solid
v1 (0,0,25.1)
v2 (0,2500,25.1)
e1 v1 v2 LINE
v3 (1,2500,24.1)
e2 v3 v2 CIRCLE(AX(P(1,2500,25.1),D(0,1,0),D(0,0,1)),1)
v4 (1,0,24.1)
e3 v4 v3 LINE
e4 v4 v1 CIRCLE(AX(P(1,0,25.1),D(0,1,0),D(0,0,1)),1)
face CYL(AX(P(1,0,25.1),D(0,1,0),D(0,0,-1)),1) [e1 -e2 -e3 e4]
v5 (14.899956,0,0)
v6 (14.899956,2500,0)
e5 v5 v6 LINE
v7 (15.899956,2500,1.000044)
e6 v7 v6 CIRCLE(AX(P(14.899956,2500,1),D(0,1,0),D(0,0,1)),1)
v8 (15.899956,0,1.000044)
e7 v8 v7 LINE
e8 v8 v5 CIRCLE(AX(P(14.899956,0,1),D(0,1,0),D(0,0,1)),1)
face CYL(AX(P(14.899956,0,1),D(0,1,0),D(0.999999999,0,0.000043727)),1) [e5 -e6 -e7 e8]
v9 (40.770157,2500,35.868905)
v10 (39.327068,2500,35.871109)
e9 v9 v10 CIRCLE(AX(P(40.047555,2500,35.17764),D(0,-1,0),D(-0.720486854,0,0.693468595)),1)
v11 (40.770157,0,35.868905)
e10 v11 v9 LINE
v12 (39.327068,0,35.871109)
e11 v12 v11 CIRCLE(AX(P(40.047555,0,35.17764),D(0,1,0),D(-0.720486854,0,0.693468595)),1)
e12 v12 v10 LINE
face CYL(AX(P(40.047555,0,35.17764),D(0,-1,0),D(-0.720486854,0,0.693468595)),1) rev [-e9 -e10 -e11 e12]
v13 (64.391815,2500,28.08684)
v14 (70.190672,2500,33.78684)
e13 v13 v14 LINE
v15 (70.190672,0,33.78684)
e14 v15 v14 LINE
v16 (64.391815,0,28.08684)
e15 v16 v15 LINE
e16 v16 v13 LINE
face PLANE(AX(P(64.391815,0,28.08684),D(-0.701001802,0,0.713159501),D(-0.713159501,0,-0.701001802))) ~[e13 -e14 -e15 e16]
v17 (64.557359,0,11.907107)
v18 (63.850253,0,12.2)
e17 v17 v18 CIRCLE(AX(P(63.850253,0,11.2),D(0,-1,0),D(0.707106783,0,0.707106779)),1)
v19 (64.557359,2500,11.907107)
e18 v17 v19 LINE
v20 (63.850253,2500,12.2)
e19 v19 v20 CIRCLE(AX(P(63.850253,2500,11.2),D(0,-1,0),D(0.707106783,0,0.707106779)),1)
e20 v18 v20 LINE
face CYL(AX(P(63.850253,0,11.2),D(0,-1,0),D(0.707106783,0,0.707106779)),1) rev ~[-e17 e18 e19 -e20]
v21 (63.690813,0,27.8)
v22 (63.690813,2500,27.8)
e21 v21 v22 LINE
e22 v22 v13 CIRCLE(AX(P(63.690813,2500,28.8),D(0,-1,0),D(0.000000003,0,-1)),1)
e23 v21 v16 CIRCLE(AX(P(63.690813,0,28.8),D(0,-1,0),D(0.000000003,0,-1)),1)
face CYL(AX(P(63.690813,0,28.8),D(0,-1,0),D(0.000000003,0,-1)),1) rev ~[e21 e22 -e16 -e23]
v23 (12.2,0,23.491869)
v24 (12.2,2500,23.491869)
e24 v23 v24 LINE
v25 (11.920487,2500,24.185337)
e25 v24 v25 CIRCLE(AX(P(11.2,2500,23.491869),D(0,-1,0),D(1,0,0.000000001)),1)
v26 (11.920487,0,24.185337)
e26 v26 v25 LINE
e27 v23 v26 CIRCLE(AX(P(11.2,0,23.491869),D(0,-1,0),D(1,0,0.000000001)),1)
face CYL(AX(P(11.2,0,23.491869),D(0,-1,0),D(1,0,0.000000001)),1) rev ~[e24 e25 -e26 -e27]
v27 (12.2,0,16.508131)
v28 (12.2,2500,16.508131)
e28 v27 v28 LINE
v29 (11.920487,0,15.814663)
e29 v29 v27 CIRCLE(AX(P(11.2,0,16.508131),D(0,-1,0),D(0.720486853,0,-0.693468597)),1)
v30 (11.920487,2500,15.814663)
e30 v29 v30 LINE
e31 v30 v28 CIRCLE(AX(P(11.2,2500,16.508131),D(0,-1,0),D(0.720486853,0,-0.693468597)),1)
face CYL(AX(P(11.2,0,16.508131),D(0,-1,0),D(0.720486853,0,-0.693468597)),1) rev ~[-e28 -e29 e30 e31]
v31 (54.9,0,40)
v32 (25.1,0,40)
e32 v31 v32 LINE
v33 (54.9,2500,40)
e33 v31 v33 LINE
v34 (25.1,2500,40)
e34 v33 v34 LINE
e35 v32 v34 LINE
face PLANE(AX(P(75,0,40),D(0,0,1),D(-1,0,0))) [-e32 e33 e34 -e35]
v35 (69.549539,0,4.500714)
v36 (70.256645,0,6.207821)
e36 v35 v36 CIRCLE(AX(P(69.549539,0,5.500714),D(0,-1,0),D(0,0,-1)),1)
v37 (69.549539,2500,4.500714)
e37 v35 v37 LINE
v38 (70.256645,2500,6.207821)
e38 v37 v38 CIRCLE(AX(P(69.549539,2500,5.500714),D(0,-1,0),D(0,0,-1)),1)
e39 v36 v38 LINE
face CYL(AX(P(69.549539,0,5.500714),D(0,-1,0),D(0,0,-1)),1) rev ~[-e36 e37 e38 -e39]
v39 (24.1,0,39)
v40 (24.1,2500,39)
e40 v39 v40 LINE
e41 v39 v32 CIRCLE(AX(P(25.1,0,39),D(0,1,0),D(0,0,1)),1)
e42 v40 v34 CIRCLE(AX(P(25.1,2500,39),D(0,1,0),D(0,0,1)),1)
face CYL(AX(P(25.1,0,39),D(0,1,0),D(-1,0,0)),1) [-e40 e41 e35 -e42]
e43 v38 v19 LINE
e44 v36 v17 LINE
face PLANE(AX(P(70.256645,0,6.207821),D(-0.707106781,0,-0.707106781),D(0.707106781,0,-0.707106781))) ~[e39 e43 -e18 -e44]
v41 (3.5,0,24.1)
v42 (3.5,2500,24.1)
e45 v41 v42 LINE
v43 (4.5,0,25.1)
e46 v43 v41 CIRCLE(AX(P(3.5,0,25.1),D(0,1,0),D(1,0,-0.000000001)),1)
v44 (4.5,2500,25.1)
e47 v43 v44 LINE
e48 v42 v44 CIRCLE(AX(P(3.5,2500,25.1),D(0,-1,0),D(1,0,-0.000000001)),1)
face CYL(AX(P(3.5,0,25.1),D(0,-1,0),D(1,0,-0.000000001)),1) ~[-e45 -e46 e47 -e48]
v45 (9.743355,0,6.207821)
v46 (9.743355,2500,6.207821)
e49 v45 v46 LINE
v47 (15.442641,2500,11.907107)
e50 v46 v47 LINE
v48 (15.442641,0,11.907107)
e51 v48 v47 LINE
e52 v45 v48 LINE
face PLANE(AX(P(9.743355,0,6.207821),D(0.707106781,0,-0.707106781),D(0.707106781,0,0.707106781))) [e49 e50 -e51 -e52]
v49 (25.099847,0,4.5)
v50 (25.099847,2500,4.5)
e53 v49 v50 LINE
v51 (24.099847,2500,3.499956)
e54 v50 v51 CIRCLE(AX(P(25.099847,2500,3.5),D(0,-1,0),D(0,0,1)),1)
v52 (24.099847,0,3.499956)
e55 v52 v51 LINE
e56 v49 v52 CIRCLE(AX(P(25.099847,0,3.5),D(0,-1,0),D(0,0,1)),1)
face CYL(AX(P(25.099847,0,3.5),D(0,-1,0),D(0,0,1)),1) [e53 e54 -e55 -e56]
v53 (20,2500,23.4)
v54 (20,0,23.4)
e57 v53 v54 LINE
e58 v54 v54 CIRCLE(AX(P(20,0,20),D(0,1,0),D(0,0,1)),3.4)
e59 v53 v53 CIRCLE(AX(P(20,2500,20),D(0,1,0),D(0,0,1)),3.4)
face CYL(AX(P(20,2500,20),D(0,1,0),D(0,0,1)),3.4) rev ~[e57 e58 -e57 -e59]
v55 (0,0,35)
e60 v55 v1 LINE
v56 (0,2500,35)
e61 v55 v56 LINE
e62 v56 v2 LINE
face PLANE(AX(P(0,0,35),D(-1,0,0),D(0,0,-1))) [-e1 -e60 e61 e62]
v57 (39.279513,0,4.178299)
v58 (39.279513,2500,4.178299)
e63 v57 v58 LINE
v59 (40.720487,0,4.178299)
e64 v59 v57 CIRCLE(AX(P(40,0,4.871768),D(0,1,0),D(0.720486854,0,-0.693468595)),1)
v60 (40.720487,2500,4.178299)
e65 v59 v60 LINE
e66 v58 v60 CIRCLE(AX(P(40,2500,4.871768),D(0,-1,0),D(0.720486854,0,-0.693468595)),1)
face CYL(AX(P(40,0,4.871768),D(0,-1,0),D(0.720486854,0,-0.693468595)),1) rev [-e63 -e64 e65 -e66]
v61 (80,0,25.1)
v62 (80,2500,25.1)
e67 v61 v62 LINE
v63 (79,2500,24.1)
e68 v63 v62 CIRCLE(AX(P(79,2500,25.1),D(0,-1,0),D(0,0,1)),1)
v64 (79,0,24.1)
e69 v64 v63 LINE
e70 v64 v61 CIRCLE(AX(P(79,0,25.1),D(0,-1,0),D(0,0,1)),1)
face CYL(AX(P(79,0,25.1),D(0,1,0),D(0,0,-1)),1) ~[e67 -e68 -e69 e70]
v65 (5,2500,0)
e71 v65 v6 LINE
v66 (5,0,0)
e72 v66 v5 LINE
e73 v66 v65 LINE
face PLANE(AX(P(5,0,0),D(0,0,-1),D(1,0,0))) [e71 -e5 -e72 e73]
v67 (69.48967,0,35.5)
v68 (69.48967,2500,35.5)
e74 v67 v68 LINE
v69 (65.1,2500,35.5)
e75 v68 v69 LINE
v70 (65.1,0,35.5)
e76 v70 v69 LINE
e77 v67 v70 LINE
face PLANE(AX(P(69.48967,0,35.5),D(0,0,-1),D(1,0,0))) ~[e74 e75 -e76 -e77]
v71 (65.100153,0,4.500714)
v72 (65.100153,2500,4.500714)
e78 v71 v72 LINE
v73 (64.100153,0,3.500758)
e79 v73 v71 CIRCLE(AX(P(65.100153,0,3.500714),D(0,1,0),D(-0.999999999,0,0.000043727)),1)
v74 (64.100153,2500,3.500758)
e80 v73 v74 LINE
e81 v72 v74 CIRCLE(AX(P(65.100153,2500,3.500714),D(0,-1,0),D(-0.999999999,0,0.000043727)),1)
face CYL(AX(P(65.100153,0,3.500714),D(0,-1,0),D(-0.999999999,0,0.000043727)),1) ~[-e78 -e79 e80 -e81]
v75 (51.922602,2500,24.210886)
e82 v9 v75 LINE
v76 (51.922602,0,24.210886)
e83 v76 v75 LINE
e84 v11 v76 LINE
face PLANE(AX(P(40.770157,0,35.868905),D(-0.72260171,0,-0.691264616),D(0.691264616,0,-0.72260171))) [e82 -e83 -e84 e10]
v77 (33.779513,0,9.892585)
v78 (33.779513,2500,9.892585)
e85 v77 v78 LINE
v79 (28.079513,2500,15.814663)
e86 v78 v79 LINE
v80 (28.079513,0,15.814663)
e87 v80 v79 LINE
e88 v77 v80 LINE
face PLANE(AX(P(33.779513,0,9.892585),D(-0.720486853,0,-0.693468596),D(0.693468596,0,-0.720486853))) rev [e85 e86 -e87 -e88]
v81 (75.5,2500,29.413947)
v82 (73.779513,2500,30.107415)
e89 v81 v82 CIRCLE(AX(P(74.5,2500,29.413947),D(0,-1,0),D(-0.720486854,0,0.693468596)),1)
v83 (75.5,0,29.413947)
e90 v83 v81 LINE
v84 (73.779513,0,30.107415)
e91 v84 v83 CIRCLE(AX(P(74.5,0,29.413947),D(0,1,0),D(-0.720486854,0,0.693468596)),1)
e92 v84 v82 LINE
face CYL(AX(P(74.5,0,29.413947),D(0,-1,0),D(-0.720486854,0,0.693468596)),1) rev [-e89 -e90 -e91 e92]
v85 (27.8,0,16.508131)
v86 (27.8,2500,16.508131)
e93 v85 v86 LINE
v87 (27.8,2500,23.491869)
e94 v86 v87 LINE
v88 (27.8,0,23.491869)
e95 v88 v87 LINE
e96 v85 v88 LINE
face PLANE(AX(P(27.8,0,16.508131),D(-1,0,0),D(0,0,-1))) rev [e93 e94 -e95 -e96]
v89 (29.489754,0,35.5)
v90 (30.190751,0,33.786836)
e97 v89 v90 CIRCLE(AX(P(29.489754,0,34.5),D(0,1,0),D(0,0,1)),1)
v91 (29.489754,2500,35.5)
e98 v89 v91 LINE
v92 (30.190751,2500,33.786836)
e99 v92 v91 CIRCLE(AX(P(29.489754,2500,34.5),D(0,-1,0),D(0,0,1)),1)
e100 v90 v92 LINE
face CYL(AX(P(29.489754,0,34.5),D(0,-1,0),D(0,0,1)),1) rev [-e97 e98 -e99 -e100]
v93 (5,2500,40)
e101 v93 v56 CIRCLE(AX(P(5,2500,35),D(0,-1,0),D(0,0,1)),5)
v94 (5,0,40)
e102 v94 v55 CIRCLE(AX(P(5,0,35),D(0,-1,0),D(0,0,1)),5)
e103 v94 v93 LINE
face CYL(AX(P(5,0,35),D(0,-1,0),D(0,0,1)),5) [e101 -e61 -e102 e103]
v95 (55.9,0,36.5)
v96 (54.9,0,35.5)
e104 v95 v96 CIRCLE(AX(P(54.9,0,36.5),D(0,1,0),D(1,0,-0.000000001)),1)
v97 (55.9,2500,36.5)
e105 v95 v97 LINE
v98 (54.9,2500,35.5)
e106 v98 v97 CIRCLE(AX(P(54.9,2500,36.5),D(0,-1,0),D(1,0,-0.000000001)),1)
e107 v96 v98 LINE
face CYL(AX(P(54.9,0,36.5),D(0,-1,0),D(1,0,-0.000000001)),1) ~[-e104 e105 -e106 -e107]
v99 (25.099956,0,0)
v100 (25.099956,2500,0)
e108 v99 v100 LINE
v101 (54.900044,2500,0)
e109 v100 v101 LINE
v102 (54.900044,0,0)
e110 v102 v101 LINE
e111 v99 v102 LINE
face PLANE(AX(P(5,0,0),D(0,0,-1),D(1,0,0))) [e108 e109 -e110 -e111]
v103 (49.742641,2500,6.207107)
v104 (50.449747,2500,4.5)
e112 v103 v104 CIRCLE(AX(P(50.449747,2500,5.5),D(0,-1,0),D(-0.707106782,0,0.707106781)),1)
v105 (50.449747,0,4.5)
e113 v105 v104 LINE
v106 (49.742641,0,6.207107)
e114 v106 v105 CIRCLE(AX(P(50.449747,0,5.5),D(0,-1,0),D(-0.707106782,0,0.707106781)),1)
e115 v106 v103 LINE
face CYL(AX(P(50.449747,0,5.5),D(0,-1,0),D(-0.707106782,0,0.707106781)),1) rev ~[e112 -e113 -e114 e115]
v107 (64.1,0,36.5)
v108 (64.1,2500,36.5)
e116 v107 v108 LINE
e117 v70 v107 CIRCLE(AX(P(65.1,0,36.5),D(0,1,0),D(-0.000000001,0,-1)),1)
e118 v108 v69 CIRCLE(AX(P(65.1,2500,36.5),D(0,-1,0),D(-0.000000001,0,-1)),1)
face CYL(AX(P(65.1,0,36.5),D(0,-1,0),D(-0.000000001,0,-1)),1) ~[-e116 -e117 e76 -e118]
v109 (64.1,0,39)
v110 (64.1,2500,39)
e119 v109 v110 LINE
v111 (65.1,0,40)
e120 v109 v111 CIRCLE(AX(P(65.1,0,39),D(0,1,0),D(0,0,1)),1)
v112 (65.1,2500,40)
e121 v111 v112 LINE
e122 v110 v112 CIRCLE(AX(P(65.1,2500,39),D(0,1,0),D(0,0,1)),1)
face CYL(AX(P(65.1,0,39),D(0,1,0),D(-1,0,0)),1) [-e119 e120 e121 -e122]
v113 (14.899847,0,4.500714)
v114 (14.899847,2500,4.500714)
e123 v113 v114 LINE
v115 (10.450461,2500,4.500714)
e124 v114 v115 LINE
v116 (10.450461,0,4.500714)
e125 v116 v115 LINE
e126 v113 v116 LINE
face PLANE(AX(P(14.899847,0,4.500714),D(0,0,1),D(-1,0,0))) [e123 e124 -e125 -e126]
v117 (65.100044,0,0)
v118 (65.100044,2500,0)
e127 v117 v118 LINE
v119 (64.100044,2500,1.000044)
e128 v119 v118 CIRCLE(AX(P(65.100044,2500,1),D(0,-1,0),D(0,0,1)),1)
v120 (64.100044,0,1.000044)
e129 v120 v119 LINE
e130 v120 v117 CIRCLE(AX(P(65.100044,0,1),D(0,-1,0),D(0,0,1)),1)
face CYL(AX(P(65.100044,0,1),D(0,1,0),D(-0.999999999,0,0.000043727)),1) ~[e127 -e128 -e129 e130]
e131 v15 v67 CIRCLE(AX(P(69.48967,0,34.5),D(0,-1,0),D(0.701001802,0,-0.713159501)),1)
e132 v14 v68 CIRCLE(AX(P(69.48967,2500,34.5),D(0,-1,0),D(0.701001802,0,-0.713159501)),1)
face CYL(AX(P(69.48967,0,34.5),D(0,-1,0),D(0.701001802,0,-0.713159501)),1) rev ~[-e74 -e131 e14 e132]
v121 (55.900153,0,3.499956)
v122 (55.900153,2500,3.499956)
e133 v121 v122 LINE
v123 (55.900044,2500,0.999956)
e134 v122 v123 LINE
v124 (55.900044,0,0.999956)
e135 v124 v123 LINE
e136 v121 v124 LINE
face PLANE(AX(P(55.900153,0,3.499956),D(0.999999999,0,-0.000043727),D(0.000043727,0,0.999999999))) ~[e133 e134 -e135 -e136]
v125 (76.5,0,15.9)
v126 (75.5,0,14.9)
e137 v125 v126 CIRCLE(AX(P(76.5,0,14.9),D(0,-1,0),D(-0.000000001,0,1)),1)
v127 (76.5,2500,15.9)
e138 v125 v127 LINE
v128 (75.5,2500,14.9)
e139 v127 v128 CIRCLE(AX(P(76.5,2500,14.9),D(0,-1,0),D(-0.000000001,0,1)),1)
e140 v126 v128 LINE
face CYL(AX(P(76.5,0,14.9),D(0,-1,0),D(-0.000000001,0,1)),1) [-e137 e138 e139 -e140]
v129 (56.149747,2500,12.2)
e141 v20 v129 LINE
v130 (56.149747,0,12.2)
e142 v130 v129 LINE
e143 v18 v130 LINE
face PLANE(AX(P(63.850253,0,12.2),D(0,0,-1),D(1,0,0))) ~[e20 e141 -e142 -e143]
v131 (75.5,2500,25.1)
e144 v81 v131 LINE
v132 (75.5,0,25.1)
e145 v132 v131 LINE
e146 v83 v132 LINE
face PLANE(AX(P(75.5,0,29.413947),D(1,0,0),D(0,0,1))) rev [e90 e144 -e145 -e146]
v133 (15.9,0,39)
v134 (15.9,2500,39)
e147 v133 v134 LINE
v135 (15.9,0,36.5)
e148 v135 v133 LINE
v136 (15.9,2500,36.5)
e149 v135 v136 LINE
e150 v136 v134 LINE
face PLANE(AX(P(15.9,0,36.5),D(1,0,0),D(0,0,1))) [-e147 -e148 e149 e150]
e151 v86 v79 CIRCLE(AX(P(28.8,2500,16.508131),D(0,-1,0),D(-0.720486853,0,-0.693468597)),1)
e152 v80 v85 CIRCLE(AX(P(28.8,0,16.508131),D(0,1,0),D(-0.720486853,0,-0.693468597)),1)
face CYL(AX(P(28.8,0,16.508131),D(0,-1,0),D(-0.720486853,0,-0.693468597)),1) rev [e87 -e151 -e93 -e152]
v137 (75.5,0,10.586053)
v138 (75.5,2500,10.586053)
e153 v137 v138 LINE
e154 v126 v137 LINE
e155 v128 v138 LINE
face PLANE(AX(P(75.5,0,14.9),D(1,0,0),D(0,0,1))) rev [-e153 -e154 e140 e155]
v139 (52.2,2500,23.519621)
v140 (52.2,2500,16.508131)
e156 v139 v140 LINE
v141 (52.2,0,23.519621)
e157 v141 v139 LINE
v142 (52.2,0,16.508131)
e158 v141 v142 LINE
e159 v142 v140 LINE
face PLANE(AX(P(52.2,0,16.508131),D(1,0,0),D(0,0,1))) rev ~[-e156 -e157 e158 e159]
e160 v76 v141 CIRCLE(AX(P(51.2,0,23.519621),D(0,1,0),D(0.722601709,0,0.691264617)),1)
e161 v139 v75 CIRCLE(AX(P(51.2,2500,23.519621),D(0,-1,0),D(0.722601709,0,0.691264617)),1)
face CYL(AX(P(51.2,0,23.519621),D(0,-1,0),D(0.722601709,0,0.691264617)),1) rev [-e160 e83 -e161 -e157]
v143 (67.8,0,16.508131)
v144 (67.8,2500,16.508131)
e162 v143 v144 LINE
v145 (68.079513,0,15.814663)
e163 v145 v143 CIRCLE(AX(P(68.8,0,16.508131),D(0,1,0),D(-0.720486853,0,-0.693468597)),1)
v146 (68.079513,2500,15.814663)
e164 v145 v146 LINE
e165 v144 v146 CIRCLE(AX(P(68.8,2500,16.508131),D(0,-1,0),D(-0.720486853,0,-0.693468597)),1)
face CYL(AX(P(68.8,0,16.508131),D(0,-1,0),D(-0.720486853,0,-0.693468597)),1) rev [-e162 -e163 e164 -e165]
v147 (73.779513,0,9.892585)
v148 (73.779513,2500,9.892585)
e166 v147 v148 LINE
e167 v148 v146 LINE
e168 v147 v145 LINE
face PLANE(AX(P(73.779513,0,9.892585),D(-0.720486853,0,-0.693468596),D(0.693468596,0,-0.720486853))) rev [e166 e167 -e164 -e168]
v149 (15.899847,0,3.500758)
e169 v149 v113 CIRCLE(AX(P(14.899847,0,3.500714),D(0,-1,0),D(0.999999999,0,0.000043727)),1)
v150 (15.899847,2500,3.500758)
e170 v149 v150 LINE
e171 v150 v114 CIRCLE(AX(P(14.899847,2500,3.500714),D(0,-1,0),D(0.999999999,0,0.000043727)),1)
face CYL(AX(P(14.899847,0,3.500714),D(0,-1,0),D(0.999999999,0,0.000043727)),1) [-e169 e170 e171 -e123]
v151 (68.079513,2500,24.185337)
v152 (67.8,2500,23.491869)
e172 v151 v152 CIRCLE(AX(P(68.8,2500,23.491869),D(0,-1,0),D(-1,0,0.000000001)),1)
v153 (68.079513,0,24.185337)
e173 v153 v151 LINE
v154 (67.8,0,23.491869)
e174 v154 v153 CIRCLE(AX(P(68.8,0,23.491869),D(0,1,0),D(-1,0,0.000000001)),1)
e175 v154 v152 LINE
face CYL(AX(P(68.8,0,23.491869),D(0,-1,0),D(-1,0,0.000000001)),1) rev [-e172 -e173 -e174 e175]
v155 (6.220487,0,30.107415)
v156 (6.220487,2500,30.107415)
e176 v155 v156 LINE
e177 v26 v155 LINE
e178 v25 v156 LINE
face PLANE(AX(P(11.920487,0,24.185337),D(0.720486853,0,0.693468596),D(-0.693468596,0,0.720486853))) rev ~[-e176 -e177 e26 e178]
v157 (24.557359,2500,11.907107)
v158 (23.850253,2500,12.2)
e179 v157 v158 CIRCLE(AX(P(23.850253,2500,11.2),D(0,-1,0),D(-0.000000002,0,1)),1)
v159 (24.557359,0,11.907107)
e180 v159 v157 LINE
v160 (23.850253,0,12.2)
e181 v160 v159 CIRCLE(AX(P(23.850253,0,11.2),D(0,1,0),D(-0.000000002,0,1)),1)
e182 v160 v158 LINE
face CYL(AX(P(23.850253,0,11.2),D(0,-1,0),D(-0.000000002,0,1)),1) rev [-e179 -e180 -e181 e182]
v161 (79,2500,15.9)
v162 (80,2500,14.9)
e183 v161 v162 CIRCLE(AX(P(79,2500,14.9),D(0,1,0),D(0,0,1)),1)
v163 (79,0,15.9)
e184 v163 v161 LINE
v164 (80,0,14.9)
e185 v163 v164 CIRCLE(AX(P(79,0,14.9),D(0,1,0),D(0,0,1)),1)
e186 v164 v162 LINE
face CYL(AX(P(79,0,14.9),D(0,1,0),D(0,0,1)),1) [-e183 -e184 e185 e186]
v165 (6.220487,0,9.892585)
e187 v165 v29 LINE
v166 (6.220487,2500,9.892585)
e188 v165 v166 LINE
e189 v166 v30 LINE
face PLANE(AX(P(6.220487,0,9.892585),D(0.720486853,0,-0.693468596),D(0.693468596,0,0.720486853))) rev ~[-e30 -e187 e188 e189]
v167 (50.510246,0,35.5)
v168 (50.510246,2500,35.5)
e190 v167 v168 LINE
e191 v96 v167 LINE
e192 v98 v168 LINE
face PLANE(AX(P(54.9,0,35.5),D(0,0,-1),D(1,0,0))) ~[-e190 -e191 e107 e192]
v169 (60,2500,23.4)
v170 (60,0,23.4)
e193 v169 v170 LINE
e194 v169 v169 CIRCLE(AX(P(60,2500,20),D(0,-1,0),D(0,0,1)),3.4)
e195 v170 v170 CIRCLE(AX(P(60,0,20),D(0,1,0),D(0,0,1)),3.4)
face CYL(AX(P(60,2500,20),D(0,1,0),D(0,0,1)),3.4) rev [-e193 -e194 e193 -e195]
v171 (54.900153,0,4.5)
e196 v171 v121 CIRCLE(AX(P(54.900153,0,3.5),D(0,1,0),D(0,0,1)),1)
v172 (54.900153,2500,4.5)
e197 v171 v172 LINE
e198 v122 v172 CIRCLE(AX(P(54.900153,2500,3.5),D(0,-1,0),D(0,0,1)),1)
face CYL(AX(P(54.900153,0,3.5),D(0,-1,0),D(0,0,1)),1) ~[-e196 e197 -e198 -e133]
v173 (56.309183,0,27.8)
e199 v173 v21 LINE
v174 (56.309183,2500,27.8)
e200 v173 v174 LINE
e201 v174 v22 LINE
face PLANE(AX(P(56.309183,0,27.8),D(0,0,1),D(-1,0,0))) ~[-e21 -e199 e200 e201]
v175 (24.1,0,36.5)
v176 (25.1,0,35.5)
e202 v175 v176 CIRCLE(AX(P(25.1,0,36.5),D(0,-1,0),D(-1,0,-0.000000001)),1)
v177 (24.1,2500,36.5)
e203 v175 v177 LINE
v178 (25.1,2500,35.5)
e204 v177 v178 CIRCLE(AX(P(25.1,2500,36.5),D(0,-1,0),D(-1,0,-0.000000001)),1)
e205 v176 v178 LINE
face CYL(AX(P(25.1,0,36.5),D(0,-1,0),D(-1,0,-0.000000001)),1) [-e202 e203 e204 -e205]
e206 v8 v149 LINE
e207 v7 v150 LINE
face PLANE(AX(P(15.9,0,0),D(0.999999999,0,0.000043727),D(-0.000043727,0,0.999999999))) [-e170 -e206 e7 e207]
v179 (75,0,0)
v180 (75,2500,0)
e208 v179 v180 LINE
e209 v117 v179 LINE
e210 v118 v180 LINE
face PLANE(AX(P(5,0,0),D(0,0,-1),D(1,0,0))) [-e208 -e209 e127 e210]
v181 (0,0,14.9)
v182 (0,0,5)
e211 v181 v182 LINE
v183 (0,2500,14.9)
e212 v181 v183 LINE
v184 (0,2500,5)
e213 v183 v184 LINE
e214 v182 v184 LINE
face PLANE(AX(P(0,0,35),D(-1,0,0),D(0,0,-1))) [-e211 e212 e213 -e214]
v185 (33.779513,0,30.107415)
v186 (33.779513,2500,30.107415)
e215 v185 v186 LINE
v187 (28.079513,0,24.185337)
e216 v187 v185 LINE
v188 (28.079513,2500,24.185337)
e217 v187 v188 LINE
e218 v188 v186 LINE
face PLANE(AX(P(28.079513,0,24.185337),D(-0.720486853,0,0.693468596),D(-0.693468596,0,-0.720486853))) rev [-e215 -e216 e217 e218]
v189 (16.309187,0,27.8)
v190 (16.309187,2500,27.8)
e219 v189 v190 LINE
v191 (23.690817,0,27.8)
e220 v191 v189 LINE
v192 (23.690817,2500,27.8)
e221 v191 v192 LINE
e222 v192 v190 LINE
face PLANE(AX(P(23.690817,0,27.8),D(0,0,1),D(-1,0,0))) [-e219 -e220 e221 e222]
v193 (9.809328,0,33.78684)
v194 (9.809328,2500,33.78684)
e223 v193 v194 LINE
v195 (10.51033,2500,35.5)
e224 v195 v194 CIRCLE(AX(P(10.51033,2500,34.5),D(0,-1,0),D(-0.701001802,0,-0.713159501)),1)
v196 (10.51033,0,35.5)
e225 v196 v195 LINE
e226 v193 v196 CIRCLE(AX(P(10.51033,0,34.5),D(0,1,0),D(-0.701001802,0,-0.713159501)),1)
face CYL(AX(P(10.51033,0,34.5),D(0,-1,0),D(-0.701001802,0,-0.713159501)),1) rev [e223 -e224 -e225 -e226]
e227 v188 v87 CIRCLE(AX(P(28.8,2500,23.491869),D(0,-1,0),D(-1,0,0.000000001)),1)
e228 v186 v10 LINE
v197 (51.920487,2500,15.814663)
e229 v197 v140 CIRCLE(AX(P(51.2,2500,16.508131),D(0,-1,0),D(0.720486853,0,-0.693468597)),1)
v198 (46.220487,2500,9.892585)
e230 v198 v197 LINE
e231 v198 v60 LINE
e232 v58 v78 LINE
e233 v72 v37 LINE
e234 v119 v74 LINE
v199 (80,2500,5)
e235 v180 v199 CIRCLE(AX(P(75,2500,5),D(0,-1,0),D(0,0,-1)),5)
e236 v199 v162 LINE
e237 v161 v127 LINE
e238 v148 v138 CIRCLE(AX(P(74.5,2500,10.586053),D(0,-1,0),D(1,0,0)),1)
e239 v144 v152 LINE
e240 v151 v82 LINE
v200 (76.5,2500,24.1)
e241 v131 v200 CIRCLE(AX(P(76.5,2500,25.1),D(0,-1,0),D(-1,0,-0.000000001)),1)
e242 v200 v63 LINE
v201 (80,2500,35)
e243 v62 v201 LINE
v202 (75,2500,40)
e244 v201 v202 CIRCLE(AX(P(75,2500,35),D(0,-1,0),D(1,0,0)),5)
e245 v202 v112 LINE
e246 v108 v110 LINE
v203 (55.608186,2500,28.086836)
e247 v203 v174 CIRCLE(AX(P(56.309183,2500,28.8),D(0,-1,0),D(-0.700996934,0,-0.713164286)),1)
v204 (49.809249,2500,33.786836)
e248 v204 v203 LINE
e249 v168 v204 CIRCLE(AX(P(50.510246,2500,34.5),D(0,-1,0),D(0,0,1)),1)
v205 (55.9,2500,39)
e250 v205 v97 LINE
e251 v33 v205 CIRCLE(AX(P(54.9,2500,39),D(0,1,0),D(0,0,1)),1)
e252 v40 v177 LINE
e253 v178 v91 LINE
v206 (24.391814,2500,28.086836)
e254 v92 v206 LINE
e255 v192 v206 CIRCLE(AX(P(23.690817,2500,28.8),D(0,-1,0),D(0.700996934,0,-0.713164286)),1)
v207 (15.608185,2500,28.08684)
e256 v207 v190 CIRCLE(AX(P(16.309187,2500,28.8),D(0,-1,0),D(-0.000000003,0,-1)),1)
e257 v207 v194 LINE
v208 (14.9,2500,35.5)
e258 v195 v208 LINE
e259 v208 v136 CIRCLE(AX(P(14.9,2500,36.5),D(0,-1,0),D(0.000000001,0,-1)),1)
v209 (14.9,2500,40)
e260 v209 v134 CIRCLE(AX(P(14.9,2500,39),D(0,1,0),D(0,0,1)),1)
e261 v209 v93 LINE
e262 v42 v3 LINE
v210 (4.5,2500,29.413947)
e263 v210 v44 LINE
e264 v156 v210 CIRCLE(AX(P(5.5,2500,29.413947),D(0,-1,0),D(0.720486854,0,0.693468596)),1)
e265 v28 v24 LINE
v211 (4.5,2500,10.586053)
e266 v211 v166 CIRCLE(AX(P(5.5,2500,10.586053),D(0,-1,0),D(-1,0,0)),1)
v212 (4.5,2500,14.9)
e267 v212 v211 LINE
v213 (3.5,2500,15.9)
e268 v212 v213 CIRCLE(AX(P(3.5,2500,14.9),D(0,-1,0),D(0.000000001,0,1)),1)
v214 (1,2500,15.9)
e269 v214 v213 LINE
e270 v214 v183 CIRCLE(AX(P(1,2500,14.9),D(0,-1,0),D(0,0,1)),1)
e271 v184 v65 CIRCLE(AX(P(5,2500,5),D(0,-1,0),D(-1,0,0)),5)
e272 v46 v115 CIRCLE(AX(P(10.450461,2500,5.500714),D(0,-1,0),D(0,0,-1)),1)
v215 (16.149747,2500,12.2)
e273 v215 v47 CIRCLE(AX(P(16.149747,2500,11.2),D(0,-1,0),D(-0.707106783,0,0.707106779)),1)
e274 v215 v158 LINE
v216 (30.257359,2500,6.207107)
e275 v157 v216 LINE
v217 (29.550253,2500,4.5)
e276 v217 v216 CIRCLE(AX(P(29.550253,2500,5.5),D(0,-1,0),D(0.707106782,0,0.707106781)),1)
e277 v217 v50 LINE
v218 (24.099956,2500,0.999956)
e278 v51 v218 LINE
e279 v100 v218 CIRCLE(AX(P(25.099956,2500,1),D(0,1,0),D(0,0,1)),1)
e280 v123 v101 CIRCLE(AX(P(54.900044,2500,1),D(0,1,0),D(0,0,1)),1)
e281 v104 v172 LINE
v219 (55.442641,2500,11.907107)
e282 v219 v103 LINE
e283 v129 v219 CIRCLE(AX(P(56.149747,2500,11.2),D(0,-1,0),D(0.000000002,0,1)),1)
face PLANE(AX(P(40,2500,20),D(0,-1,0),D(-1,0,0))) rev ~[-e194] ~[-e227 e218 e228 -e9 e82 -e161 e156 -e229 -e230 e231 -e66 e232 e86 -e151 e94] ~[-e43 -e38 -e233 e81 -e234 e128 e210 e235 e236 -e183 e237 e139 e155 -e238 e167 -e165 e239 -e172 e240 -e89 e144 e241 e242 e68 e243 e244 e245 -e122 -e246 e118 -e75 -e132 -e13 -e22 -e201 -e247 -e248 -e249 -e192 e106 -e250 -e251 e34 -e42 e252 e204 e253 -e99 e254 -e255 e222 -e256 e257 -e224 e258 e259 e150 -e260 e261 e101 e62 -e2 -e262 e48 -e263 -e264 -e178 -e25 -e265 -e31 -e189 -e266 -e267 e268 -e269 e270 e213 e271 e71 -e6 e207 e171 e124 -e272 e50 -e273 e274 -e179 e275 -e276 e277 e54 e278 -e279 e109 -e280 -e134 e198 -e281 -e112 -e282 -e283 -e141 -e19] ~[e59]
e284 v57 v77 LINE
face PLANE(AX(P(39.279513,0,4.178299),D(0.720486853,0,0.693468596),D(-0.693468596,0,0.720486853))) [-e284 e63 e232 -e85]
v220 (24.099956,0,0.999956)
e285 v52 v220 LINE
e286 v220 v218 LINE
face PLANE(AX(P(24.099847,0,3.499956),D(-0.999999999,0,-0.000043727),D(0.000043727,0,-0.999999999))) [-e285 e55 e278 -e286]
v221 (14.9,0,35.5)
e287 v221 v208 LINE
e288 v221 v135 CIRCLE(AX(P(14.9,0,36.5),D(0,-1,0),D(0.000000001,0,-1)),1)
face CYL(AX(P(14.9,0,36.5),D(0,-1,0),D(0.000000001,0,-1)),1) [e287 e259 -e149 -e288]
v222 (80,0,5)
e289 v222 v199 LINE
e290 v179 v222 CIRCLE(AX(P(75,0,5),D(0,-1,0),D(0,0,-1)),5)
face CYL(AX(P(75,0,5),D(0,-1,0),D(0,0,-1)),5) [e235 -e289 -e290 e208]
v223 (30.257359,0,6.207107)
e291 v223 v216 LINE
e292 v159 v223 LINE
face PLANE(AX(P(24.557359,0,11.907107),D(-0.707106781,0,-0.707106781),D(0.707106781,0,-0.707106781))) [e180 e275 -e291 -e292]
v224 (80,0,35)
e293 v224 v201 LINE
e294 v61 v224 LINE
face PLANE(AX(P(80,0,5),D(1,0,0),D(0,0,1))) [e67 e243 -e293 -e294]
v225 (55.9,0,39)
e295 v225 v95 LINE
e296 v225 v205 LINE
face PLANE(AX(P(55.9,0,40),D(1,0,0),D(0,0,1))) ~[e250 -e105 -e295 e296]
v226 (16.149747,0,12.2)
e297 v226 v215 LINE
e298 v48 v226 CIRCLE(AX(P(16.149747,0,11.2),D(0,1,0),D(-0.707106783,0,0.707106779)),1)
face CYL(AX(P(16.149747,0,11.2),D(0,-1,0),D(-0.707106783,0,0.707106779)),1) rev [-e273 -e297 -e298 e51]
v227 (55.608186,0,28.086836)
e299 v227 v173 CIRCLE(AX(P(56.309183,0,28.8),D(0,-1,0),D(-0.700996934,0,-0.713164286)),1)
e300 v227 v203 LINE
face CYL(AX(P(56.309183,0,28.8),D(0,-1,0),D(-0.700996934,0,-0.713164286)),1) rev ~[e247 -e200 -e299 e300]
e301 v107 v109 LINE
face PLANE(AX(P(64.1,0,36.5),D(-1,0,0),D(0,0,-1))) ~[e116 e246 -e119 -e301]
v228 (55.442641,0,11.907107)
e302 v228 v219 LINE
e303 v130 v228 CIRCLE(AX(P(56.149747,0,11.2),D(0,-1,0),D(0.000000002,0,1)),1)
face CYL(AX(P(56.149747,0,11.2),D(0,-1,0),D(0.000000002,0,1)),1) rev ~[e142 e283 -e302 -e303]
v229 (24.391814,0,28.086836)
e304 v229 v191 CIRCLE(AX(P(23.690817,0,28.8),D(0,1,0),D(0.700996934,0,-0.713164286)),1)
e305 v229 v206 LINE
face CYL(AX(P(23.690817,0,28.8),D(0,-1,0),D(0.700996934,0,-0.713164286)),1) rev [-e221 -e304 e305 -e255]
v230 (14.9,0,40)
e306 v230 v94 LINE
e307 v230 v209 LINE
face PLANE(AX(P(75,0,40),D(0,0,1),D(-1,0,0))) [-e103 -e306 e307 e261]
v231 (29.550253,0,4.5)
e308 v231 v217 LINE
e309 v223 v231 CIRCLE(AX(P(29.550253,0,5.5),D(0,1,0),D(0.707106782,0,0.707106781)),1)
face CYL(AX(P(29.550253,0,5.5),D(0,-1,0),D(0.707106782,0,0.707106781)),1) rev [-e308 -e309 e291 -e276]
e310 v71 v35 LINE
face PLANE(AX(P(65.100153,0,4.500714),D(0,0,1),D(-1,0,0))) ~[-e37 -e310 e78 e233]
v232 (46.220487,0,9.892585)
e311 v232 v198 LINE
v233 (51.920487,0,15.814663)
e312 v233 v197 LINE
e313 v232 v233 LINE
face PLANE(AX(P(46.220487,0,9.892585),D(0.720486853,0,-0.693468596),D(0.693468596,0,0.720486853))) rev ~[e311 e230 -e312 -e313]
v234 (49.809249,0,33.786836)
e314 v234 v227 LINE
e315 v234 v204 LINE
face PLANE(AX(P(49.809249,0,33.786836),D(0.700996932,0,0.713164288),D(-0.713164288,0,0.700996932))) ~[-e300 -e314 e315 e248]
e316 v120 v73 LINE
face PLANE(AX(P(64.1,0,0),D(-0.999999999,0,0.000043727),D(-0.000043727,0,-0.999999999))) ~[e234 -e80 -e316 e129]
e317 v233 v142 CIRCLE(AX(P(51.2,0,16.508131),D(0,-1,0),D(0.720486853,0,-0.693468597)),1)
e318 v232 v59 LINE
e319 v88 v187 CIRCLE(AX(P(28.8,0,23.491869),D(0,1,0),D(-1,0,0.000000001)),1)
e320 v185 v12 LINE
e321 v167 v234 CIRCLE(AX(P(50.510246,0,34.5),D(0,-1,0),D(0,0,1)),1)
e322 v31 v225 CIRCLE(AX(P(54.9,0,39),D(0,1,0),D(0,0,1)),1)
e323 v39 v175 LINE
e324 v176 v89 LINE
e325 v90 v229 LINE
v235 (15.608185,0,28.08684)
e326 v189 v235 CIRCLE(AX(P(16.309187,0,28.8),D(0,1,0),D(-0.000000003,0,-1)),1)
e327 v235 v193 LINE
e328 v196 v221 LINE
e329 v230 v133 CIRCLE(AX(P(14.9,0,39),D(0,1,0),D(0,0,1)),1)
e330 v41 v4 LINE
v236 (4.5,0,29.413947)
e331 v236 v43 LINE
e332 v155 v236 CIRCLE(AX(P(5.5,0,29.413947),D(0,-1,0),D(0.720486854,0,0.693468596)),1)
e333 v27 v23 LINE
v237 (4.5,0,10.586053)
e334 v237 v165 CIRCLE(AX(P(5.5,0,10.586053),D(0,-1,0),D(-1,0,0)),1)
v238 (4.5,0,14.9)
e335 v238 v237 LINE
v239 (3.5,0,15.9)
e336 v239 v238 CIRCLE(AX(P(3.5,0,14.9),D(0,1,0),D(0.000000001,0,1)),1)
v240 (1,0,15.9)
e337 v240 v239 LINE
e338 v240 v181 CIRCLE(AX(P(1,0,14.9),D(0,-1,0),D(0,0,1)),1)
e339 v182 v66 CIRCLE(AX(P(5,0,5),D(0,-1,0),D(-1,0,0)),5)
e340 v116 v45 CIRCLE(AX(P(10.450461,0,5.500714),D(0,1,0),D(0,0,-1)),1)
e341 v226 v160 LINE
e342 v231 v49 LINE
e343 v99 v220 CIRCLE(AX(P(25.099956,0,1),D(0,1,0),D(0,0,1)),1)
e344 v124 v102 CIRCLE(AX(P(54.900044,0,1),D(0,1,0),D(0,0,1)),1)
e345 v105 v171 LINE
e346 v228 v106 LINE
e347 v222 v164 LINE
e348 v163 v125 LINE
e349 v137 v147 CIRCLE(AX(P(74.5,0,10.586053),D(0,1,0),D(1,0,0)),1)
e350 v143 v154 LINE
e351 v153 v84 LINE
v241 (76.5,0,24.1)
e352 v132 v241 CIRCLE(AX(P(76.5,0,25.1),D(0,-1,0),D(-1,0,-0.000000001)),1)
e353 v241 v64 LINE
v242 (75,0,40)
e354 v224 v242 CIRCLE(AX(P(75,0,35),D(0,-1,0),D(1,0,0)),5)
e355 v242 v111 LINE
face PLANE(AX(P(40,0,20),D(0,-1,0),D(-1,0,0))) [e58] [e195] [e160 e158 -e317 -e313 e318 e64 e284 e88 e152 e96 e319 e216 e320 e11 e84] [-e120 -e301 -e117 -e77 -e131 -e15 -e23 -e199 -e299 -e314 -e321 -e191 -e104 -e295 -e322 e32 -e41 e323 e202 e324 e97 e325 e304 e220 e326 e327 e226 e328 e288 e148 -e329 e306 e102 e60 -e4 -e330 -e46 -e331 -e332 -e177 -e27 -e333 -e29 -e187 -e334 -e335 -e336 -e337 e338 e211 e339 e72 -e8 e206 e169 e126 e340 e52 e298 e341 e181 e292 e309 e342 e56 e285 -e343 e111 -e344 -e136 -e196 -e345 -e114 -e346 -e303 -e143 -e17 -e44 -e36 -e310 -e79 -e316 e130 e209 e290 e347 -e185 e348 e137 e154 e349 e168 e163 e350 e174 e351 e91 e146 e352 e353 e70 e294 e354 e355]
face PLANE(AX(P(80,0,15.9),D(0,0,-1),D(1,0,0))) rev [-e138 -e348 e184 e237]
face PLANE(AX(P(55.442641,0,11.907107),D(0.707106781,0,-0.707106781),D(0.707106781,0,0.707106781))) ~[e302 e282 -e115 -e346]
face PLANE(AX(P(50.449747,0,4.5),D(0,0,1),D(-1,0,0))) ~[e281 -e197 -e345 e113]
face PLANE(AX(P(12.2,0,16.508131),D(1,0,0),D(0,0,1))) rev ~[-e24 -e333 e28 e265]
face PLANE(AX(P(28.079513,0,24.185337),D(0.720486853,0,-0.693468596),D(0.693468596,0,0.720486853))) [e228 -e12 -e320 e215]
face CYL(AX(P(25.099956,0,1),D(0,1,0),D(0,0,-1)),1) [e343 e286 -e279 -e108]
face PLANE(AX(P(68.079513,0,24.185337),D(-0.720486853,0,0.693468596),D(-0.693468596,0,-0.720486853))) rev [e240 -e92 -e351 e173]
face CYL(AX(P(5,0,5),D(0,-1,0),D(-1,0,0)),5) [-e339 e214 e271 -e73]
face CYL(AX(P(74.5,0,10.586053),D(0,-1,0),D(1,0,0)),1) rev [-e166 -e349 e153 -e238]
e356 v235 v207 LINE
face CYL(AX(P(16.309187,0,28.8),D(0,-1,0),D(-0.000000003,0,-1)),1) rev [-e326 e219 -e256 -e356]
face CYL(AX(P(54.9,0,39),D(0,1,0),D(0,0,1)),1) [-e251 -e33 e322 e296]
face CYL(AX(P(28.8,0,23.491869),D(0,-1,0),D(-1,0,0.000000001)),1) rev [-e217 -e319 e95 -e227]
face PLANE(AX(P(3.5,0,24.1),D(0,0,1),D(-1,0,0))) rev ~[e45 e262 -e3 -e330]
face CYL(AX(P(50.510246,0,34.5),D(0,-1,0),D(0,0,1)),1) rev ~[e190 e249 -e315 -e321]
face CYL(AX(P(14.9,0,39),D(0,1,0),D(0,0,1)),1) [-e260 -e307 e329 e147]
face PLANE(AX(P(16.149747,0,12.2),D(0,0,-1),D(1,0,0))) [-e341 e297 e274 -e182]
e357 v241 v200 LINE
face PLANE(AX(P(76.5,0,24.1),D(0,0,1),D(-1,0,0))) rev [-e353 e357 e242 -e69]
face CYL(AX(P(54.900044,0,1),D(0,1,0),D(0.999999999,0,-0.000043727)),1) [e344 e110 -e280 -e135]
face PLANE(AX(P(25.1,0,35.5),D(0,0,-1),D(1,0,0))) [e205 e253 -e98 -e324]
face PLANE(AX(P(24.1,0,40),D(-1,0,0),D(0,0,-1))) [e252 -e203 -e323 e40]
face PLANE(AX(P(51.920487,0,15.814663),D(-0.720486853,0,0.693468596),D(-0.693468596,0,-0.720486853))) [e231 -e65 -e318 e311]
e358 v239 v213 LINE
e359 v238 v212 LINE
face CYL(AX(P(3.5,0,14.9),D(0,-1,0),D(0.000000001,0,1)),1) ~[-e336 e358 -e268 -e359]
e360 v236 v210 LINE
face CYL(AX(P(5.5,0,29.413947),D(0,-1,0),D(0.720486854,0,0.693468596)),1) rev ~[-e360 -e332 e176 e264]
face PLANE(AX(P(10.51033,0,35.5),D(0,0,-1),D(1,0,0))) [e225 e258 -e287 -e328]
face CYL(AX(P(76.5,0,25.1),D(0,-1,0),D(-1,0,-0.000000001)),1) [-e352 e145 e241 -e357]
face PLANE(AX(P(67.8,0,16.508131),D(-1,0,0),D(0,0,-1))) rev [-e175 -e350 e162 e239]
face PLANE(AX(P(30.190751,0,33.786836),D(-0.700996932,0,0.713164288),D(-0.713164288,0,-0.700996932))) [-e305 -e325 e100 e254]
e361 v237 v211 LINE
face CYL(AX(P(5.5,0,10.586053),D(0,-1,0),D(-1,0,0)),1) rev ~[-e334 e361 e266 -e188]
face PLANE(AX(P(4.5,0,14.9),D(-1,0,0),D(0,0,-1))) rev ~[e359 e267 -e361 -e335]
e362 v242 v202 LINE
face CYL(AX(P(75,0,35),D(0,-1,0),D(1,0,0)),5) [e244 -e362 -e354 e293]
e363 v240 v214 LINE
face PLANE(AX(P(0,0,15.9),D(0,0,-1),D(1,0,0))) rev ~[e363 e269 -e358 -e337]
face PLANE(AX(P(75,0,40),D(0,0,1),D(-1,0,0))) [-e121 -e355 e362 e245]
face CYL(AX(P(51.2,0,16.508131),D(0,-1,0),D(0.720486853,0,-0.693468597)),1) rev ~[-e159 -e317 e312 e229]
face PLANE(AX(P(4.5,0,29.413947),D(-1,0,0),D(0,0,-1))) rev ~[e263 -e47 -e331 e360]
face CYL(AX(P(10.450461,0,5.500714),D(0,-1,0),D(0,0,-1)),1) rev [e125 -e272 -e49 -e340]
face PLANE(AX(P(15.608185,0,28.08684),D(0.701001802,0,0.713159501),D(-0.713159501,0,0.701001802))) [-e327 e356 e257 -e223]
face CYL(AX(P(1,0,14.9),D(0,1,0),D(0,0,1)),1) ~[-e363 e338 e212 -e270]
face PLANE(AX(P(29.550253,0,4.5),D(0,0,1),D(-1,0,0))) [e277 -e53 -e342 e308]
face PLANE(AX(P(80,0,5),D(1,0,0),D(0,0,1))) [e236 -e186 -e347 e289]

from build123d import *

# Parameters (mm, degrees)
BOSS_EXTRUDE1_DEPTH   = 2500
SKETCH3_R             = 3.4
CUT_EXTRUDE1_DEPTH    = 2502.599488327
CUT_EXTRUDE2_DEPTH    = 2502.599488327
FILLET1_R             = 1
FILLET2_R             = 1
FILLET3_R             = 1
CUT_EXTRUDE3_DEPTH    = 2502.599488327
CUT_EXTRUDE4_DEPTH    = 2502.599488327
FILLET4_R             = 1
FILLET5_R             = 1
FILLET6_R             = 1
FILLET7_R             = 1
FILLET8_R             = 1
FILLET9_R             = 1
FILLET10_R            = 1
FILLET11_R            = 1
MIRROR11_COPY_1_DEPTH = 2502.599488327
MIRROR11_COPY_2_DEPTH = 2502.599488327
CUT_EXTRUDE5_DEPTH    = 2502.599488327


with BuildPart() as part:
    # Sketch1 → Boss-Extrude1 (new body)
    with BuildSketch(Plane(origin=(0, 0, 0), x_dir=(1, 0, 0), z_dir=(0, 1, 0))):
        with BuildLine():
            Line((5, 0), (75, 0))
            ThreePointArc((75, 0), (78.535533906, -1.464466094), (80, -5))
            Line((80, -5), (80, -35))
            ThreePointArc((80, -35), (78.535533906, -38.535533906), (75, -40))
            Line((75, -40), (5, -40))
            ThreePointArc((5, -40), (1.464466094, -38.535533906), (0, -35))
            Line((0, -35), (0, -5))
            ThreePointArc((0, -5), (1.464466094, -1.464466094), (5, 0))
        make_face()
    extrude(amount=BOSS_EXTRUDE1_DEPTH)

    # Sketch3 → Cut-Extrude1 (cut, through all)
    with BuildSketch(Plane(origin=(0, 2500, 0), x_dir=(1, 0, 0), z_dir=(0, 1, 0))):
        with Locations(Location((20, -20, 0), (0, 0, 270))):
            Circle(SKETCH3_R)
    cut_extrude1 = extrude(amount=-CUT_EXTRUDE1_DEPTH, mode=Mode.SUBTRACT)

    # Mirror3: Cut-Extrude1 across plane
    add(cut_extrude1.mirror(Plane(origin=(40, 0, 0), x_dir=(0, 0, 1), z_dir=(1, 0, 0))), mode=Mode.SUBTRACT)

    # Sketch7 → Cut-Extrude2 (cut, through all)
    with BuildSketch(Plane(origin=(0, 0, 0), x_dir=(-1, 0, 0), z_dir=(0, -1, 0))):
        with BuildLine():
            Line((-15.9, -40), (-24.1, -40))
            Line((-24.1, -40), (-24.1, -36.5))
            ThreePointArc((-24.1, -36.5), (-24.392893219, -35.792893219), (-25.1, -35.5))
            Line((-25.1, -35.5), (-29.489753594, -35.5))
            ThreePointArc((-29.489753594, -35.5), (-30.415270825, -34.8787055), (-30.190750526, -33.786835712))
            Line((-30.190750526, -33.786835712), (-24.391814382, -28.086835712))
            ThreePointArc((-24.391814382, -28.086835712), (-24.069522951, -27.874482769), (-23.69081745, -27.8))
            Line((-23.69081745, -27.8), (-16.309186536, -27.8))
            ThreePointArc((-16.309186536, -27.8), (-15.930477876, -27.874484063), (-15.608184734, -28.086840499))
            Line((-15.608184734, -28.086840499), (-9.809327805, -33.786840499))
            ThreePointArc((-9.809327805, -33.786840499), (-9.584813669, -34.87870866), (-10.510329607, -35.5))
            Line((-10.510329607, -35.5), (-14.9, -35.5))
            ThreePointArc((-14.9, -35.5), (-15.607106781, -35.792893219), (-15.9, -36.5))
            Line((-15.9, -36.5), (-15.9, -40))
        make_face()
    cut_extrude2 = extrude(amount=-CUT_EXTRUDE2_DEPTH, mode=Mode.SUBTRACT)

    # Fillet1
    fillet1_edges = [part.edges().sort_by_distance(p)[0] for p in [
        (15.9, 1250, 40),
        (24.1, 1250, 40),
    ]]
    fillet(fillet1_edges, radius=FILLET1_R)

    # Mirror8: Cut-Extrude2 across plane
    add(cut_extrude2.mirror(Plane(origin=(40, 0, 0), x_dir=(0, 0, 1), z_dir=(1, 0, 0))), mode=Mode.SUBTRACT)

    # Fillet2
    fillet2_edges = [part.edges().sort_by_distance(p)[0] for p in [
        (55.9, 1250, 40),
    ]]
    fillet(fillet2_edges, radius=FILLET2_R)

    # Fillet3
    fillet3_edges = [part.edges().sort_by_distance(p)[0] for p in [
        (64.1, 1250, 40),
    ]]
    fillet(fillet3_edges, radius=FILLET3_R)

    # Sketch9 → Cut-Extrude3 (cut, through all)
    with BuildSketch(Plane(origin=(0, 0, 0), x_dir=(1, 0, 0), z_dir=(0, 1, 0))):
        with BuildLine():
            Line((14.899846923, -4.500713815), (10.450461284, -4.500713815))
            ThreePointArc((10.450461284, -4.500713815), (9.526581751, -5.118030383), (9.743354502, -6.207820596))
            Line((9.743354502, -6.207820596), (15.442640687, -11.907106781))
            ThreePointArc((15.442640687, -11.907106781), (15.767064036, -12.123879533), (16.149747468, -12.2))
            Line((16.149747468, -12.2), (23.850252532, -12.2))
            ThreePointArc((23.850252532, -12.2), (24.232935964, -12.123879533), (24.557359313, -11.907106781))
            Line((24.557359313, -11.907106781), (30.257359313, -6.207106781))
            ThreePointArc((30.257359313, -6.207106781), (30.474132064, -5.117316568), (29.550252532, -4.5))
            Line((29.550252532, -4.5), (25.099846964, -4.5))
            ThreePointArc((25.099846964, -4.5), (24.392724723, -4.207091321), (24.099846965, -3.499956273))
            Line((24.099846965, -3.499956273), (24.100000008, 0))
            Line((24.100000008, 0), (15.9, 0))
            Line((15.9, 0), (15.899846922, -3.500757542))
            ThreePointArc((15.899846922, -3.500757542), (15.606938244, -4.207836056), (14.899846923, -4.500713815))
        make_face()
    cut_extrude3 = extrude(amount=CUT_EXTRUDE3_DEPTH, mode=Mode.SUBTRACT)

    # Mirror9: Cut-Extrude3 across plane
    add(cut_extrude3.mirror(Plane(origin=(40, 0, 0), x_dir=(0, 0, 1), z_dir=(1, 0, 0))), mode=Mode.SUBTRACT)

    # Sketch10 → Cut-Extrude4 (cut, through all)
    with BuildSketch(Plane(origin=(0, 0, 0), x_dir=(1, 0, 0), z_dir=(0, 1, 0))):
        with BuildLine():
            Line((4.5, -14.9), (4.5, -10.58605332))
            ThreePointArc((4.5, -10.58605332), (5.126159695, -9.658560233), (6.220486853, -9.892584724))
            Line((6.220486853, -9.892584724), (11.920486853, -15.814662646))
            ThreePointArc((11.920486853, -15.814662646), (12.127493087, -16.134290938), (12.2, -16.508131242))
            Line((12.2, -16.508131242), (12.2, -23.491868758))
            ThreePointArc((12.2, -23.491868758), (12.127493087, -23.865709062), (11.920486853, -24.185337354))
            Line((11.920486853, -24.185337354), (6.220486853, -30.107415276))
            ThreePointArc((6.220486853, -30.107415276), (5.126159695, -30.341439767), (4.5, -29.41394668))
            Line((4.5, -29.41394668), (4.5, -25.1))
            ThreePointArc((4.5, -25.1), (4.207106781, -24.392893219), (3.5, -24.1))
            Line((3.5, -24.1), (0, -24.1))
            Line((0, -24.1), (0, -15.9))
            Line((0, -15.9), (3.5, -15.9))
            ThreePointArc((3.5, -15.9), (4.207106781, -15.607106781), (4.5, -14.9))
        make_face()
    cut_extrude4 = extrude(amount=CUT_EXTRUDE4_DEPTH, mode=Mode.SUBTRACT)

    # Fillet4
    fillet4_edges = [part.edges().sort_by_distance(p)[0] for p in [
        (24.100000008, 1250, 0),
    ]]
    fillet(fillet4_edges, radius=FILLET4_R)

    # Fillet5
    fillet5_edges = [part.edges().sort_by_distance(p)[0] for p in [
        (64.1, 1250, 0),
    ]]
    fillet(fillet5_edges, radius=FILLET5_R)

    # Fillet6
    fillet6_edges = [part.edges().sort_by_distance(p)[0] for p in [
        (55.899999992, 1250, 0),
    ]]
    fillet(fillet6_edges, radius=FILLET6_R)

    # Fillet7
    fillet7_edges = [part.edges().sort_by_distance(p)[0] for p in [
        (15.9, 1250, 0),
    ]]
    fillet(fillet7_edges, radius=FILLET7_R)

    # Fillet8
    fillet8_edges = [part.edges().sort_by_distance(p)[0] for p in [
        (0, 1250, 24.1),
    ]]
    fillet(fillet8_edges, radius=FILLET8_R)

    # Fillet9
    fillet9_edges = [part.edges().sort_by_distance(p)[0] for p in [
        (0, 1250, 15.9),
    ]]
    fillet(fillet9_edges, radius=FILLET9_R)

    # Mirror10: Cut-Extrude4 across plane
    add(cut_extrude4.mirror(Plane(origin=(40, 0, 0), x_dir=(0, 0, 1), z_dir=(1, 0, 0))), mode=Mode.SUBTRACT)

    # Fillet10
    fillet10_edges = [part.edges().sort_by_distance(p)[0] for p in [
        (80, 1250, 15.9),
    ]]
    fillet(fillet10_edges, radius=FILLET10_R)

    # Fillet11
    fillet11_edges = [part.edges().sort_by_distance(p)[0] for p in [
        (80, 1250, 24.1),
    ]]
    fillet(fillet11_edges, radius=FILLET11_R)

    # Mirror11 copy 1 sketch → Mirror11 copy 1 (cut, through all)
    with BuildSketch(Plane(origin=(40, 0, 0), x_dir=(1, 0, 0), z_dir=(0, 1, 0))):
        with BuildLine():
            Line((4.5, -14.9), (4.5, -10.58605332))
            ThreePointArc((4.5, -10.58605332), (5.126159695, -9.658560233), (6.220486853, -9.892584724))
            Line((6.220486853, -9.892584724), (11.920486853, -15.814662646))
            ThreePointArc((11.920486853, -15.814662646), (12.127493087, -16.134290938), (12.2, -16.508131242))
            Line((12.2, -16.508131242), (12.2, -23.491868758))
            ThreePointArc((12.2, -23.491868758), (12.127493087, -23.865709062), (11.920486853, -24.185337354))
            Line((11.920486853, -24.185337354), (6.220486853, -30.107415276))
            ThreePointArc((6.220486853, -30.107415276), (5.126159695, -30.341439767), (4.5, -29.41394668))
            Line((4.5, -29.41394668), (4.5, -25.1))
            ThreePointArc((4.5, -25.1), (4.207106781, -24.392893219), (3.5, -24.1))
            Line((3.5, -24.1), (0, -24.1))
            Line((0, -24.1), (0, -15.9))
            Line((0, -15.9), (3.5, -15.9))
            ThreePointArc((3.5, -15.9), (4.207106781, -15.607106781), (4.5, -14.9))
        make_face()
    extrude(amount=MIRROR11_COPY_1_DEPTH, mode=Mode.SUBTRACT)

    # Mirror11 copy 2 sketch → Mirror11 copy 2 (cut, through all)
    with BuildSketch(Plane(origin=(120, 0, 0), x_dir=(-1, 0, 0), z_dir=(0, 1, 0))):
        with BuildLine():
            Line((4.5, 14.9), (4.5, 10.58605332))
            ThreePointArc((4.5, 10.58605332), (5.126159695, 9.658560233), (6.220486853, 9.892584724))
            Line((6.220486853, 9.892584724), (11.920486853, 15.814662646))
            ThreePointArc((11.920486853, 15.814662646), (12.127493087, 16.134290938), (12.2, 16.508131242))
            Line((12.2, 16.508131242), (12.2, 23.491868758))
            ThreePointArc((12.2, 23.491868758), (12.127493087, 23.865709062), (11.920486853, 24.185337354))
            Line((11.920486853, 24.185337354), (6.220486853, 30.107415276))
            ThreePointArc((6.220486853, 30.107415276), (5.126159695, 30.341439767), (4.5, 29.41394668))
            Line((4.5, 29.41394668), (4.5, 25.1))
            ThreePointArc((4.5, 25.1), (4.207106781, 24.392893219), (3.5, 24.1))
            Line((3.5, 24.1), (0, 24.1))
            Line((0, 24.1), (0, 15.9))
            Line((0, 15.9), (3.5, 15.9))
            ThreePointArc((3.5, 15.9), (4.207106781, 15.607106781), (4.5, 14.9))
        make_face()
    extrude(amount=MIRROR11_COPY_2_DEPTH, mode=Mode.SUBTRACT)

    # Mirror12: Cut-Extrude4 across plane
    add(cut_extrude4.mirror(Plane.ZY.offset(-20)), mode=Mode.SUBTRACT)

    # Sketch12 → Cut-Extrude5 (cut, through all)
    with BuildSketch(Plane(origin=(0, 0, 0), x_dir=(-1, 0, 0), z_dir=(0, -1, 0))):
        with BuildLine():
            Line((-28.079513147, -24.185337354), (-39.327067998, -35.871108628))
            ThreePointArc((-39.327067998, -35.871108628), (-40.049082116, -36.177638866), (-40.770156561, -35.868904648))
            Line((-40.770156561, -35.868904648), (-51.922601709, -24.210885791))
            ThreePointArc((-51.922601709, -24.210885791), (-52.128062958, -23.892044517), (-52.2, -23.519621175))
            Line((-52.2, -23.519621175), (-52.2, -16.508131242))
            ThreePointArc((-52.2, -16.508131242), (-52.127493087, -16.134290938), (-51.920486853, -15.814662646))
            Line((-51.920486853, -15.814662646), (-40.720486853, -4.17829901))
            ThreePointArc((-40.720486853, -4.17829901), (-40, -3.871767606), (-39.279513147, -4.17829901))
            Line((-39.279513147, -4.17829901), (-28.079513147, -15.814662646))
            ThreePointArc((-28.079513147, -15.814662646), (-27.872506913, -16.134290938), (-27.8, -16.508131242))
            Line((-27.8, -16.508131242), (-27.8, -23.491868758))
            ThreePointArc((-27.8, -23.491868758), (-27.872506913, -23.865709062), (-28.079513147, -24.185337354))
        make_face()
    extrude(amount=-CUT_EXTRUDE5_DEPTH, mode=Mode.SUBTRACT)


solid = part.part
